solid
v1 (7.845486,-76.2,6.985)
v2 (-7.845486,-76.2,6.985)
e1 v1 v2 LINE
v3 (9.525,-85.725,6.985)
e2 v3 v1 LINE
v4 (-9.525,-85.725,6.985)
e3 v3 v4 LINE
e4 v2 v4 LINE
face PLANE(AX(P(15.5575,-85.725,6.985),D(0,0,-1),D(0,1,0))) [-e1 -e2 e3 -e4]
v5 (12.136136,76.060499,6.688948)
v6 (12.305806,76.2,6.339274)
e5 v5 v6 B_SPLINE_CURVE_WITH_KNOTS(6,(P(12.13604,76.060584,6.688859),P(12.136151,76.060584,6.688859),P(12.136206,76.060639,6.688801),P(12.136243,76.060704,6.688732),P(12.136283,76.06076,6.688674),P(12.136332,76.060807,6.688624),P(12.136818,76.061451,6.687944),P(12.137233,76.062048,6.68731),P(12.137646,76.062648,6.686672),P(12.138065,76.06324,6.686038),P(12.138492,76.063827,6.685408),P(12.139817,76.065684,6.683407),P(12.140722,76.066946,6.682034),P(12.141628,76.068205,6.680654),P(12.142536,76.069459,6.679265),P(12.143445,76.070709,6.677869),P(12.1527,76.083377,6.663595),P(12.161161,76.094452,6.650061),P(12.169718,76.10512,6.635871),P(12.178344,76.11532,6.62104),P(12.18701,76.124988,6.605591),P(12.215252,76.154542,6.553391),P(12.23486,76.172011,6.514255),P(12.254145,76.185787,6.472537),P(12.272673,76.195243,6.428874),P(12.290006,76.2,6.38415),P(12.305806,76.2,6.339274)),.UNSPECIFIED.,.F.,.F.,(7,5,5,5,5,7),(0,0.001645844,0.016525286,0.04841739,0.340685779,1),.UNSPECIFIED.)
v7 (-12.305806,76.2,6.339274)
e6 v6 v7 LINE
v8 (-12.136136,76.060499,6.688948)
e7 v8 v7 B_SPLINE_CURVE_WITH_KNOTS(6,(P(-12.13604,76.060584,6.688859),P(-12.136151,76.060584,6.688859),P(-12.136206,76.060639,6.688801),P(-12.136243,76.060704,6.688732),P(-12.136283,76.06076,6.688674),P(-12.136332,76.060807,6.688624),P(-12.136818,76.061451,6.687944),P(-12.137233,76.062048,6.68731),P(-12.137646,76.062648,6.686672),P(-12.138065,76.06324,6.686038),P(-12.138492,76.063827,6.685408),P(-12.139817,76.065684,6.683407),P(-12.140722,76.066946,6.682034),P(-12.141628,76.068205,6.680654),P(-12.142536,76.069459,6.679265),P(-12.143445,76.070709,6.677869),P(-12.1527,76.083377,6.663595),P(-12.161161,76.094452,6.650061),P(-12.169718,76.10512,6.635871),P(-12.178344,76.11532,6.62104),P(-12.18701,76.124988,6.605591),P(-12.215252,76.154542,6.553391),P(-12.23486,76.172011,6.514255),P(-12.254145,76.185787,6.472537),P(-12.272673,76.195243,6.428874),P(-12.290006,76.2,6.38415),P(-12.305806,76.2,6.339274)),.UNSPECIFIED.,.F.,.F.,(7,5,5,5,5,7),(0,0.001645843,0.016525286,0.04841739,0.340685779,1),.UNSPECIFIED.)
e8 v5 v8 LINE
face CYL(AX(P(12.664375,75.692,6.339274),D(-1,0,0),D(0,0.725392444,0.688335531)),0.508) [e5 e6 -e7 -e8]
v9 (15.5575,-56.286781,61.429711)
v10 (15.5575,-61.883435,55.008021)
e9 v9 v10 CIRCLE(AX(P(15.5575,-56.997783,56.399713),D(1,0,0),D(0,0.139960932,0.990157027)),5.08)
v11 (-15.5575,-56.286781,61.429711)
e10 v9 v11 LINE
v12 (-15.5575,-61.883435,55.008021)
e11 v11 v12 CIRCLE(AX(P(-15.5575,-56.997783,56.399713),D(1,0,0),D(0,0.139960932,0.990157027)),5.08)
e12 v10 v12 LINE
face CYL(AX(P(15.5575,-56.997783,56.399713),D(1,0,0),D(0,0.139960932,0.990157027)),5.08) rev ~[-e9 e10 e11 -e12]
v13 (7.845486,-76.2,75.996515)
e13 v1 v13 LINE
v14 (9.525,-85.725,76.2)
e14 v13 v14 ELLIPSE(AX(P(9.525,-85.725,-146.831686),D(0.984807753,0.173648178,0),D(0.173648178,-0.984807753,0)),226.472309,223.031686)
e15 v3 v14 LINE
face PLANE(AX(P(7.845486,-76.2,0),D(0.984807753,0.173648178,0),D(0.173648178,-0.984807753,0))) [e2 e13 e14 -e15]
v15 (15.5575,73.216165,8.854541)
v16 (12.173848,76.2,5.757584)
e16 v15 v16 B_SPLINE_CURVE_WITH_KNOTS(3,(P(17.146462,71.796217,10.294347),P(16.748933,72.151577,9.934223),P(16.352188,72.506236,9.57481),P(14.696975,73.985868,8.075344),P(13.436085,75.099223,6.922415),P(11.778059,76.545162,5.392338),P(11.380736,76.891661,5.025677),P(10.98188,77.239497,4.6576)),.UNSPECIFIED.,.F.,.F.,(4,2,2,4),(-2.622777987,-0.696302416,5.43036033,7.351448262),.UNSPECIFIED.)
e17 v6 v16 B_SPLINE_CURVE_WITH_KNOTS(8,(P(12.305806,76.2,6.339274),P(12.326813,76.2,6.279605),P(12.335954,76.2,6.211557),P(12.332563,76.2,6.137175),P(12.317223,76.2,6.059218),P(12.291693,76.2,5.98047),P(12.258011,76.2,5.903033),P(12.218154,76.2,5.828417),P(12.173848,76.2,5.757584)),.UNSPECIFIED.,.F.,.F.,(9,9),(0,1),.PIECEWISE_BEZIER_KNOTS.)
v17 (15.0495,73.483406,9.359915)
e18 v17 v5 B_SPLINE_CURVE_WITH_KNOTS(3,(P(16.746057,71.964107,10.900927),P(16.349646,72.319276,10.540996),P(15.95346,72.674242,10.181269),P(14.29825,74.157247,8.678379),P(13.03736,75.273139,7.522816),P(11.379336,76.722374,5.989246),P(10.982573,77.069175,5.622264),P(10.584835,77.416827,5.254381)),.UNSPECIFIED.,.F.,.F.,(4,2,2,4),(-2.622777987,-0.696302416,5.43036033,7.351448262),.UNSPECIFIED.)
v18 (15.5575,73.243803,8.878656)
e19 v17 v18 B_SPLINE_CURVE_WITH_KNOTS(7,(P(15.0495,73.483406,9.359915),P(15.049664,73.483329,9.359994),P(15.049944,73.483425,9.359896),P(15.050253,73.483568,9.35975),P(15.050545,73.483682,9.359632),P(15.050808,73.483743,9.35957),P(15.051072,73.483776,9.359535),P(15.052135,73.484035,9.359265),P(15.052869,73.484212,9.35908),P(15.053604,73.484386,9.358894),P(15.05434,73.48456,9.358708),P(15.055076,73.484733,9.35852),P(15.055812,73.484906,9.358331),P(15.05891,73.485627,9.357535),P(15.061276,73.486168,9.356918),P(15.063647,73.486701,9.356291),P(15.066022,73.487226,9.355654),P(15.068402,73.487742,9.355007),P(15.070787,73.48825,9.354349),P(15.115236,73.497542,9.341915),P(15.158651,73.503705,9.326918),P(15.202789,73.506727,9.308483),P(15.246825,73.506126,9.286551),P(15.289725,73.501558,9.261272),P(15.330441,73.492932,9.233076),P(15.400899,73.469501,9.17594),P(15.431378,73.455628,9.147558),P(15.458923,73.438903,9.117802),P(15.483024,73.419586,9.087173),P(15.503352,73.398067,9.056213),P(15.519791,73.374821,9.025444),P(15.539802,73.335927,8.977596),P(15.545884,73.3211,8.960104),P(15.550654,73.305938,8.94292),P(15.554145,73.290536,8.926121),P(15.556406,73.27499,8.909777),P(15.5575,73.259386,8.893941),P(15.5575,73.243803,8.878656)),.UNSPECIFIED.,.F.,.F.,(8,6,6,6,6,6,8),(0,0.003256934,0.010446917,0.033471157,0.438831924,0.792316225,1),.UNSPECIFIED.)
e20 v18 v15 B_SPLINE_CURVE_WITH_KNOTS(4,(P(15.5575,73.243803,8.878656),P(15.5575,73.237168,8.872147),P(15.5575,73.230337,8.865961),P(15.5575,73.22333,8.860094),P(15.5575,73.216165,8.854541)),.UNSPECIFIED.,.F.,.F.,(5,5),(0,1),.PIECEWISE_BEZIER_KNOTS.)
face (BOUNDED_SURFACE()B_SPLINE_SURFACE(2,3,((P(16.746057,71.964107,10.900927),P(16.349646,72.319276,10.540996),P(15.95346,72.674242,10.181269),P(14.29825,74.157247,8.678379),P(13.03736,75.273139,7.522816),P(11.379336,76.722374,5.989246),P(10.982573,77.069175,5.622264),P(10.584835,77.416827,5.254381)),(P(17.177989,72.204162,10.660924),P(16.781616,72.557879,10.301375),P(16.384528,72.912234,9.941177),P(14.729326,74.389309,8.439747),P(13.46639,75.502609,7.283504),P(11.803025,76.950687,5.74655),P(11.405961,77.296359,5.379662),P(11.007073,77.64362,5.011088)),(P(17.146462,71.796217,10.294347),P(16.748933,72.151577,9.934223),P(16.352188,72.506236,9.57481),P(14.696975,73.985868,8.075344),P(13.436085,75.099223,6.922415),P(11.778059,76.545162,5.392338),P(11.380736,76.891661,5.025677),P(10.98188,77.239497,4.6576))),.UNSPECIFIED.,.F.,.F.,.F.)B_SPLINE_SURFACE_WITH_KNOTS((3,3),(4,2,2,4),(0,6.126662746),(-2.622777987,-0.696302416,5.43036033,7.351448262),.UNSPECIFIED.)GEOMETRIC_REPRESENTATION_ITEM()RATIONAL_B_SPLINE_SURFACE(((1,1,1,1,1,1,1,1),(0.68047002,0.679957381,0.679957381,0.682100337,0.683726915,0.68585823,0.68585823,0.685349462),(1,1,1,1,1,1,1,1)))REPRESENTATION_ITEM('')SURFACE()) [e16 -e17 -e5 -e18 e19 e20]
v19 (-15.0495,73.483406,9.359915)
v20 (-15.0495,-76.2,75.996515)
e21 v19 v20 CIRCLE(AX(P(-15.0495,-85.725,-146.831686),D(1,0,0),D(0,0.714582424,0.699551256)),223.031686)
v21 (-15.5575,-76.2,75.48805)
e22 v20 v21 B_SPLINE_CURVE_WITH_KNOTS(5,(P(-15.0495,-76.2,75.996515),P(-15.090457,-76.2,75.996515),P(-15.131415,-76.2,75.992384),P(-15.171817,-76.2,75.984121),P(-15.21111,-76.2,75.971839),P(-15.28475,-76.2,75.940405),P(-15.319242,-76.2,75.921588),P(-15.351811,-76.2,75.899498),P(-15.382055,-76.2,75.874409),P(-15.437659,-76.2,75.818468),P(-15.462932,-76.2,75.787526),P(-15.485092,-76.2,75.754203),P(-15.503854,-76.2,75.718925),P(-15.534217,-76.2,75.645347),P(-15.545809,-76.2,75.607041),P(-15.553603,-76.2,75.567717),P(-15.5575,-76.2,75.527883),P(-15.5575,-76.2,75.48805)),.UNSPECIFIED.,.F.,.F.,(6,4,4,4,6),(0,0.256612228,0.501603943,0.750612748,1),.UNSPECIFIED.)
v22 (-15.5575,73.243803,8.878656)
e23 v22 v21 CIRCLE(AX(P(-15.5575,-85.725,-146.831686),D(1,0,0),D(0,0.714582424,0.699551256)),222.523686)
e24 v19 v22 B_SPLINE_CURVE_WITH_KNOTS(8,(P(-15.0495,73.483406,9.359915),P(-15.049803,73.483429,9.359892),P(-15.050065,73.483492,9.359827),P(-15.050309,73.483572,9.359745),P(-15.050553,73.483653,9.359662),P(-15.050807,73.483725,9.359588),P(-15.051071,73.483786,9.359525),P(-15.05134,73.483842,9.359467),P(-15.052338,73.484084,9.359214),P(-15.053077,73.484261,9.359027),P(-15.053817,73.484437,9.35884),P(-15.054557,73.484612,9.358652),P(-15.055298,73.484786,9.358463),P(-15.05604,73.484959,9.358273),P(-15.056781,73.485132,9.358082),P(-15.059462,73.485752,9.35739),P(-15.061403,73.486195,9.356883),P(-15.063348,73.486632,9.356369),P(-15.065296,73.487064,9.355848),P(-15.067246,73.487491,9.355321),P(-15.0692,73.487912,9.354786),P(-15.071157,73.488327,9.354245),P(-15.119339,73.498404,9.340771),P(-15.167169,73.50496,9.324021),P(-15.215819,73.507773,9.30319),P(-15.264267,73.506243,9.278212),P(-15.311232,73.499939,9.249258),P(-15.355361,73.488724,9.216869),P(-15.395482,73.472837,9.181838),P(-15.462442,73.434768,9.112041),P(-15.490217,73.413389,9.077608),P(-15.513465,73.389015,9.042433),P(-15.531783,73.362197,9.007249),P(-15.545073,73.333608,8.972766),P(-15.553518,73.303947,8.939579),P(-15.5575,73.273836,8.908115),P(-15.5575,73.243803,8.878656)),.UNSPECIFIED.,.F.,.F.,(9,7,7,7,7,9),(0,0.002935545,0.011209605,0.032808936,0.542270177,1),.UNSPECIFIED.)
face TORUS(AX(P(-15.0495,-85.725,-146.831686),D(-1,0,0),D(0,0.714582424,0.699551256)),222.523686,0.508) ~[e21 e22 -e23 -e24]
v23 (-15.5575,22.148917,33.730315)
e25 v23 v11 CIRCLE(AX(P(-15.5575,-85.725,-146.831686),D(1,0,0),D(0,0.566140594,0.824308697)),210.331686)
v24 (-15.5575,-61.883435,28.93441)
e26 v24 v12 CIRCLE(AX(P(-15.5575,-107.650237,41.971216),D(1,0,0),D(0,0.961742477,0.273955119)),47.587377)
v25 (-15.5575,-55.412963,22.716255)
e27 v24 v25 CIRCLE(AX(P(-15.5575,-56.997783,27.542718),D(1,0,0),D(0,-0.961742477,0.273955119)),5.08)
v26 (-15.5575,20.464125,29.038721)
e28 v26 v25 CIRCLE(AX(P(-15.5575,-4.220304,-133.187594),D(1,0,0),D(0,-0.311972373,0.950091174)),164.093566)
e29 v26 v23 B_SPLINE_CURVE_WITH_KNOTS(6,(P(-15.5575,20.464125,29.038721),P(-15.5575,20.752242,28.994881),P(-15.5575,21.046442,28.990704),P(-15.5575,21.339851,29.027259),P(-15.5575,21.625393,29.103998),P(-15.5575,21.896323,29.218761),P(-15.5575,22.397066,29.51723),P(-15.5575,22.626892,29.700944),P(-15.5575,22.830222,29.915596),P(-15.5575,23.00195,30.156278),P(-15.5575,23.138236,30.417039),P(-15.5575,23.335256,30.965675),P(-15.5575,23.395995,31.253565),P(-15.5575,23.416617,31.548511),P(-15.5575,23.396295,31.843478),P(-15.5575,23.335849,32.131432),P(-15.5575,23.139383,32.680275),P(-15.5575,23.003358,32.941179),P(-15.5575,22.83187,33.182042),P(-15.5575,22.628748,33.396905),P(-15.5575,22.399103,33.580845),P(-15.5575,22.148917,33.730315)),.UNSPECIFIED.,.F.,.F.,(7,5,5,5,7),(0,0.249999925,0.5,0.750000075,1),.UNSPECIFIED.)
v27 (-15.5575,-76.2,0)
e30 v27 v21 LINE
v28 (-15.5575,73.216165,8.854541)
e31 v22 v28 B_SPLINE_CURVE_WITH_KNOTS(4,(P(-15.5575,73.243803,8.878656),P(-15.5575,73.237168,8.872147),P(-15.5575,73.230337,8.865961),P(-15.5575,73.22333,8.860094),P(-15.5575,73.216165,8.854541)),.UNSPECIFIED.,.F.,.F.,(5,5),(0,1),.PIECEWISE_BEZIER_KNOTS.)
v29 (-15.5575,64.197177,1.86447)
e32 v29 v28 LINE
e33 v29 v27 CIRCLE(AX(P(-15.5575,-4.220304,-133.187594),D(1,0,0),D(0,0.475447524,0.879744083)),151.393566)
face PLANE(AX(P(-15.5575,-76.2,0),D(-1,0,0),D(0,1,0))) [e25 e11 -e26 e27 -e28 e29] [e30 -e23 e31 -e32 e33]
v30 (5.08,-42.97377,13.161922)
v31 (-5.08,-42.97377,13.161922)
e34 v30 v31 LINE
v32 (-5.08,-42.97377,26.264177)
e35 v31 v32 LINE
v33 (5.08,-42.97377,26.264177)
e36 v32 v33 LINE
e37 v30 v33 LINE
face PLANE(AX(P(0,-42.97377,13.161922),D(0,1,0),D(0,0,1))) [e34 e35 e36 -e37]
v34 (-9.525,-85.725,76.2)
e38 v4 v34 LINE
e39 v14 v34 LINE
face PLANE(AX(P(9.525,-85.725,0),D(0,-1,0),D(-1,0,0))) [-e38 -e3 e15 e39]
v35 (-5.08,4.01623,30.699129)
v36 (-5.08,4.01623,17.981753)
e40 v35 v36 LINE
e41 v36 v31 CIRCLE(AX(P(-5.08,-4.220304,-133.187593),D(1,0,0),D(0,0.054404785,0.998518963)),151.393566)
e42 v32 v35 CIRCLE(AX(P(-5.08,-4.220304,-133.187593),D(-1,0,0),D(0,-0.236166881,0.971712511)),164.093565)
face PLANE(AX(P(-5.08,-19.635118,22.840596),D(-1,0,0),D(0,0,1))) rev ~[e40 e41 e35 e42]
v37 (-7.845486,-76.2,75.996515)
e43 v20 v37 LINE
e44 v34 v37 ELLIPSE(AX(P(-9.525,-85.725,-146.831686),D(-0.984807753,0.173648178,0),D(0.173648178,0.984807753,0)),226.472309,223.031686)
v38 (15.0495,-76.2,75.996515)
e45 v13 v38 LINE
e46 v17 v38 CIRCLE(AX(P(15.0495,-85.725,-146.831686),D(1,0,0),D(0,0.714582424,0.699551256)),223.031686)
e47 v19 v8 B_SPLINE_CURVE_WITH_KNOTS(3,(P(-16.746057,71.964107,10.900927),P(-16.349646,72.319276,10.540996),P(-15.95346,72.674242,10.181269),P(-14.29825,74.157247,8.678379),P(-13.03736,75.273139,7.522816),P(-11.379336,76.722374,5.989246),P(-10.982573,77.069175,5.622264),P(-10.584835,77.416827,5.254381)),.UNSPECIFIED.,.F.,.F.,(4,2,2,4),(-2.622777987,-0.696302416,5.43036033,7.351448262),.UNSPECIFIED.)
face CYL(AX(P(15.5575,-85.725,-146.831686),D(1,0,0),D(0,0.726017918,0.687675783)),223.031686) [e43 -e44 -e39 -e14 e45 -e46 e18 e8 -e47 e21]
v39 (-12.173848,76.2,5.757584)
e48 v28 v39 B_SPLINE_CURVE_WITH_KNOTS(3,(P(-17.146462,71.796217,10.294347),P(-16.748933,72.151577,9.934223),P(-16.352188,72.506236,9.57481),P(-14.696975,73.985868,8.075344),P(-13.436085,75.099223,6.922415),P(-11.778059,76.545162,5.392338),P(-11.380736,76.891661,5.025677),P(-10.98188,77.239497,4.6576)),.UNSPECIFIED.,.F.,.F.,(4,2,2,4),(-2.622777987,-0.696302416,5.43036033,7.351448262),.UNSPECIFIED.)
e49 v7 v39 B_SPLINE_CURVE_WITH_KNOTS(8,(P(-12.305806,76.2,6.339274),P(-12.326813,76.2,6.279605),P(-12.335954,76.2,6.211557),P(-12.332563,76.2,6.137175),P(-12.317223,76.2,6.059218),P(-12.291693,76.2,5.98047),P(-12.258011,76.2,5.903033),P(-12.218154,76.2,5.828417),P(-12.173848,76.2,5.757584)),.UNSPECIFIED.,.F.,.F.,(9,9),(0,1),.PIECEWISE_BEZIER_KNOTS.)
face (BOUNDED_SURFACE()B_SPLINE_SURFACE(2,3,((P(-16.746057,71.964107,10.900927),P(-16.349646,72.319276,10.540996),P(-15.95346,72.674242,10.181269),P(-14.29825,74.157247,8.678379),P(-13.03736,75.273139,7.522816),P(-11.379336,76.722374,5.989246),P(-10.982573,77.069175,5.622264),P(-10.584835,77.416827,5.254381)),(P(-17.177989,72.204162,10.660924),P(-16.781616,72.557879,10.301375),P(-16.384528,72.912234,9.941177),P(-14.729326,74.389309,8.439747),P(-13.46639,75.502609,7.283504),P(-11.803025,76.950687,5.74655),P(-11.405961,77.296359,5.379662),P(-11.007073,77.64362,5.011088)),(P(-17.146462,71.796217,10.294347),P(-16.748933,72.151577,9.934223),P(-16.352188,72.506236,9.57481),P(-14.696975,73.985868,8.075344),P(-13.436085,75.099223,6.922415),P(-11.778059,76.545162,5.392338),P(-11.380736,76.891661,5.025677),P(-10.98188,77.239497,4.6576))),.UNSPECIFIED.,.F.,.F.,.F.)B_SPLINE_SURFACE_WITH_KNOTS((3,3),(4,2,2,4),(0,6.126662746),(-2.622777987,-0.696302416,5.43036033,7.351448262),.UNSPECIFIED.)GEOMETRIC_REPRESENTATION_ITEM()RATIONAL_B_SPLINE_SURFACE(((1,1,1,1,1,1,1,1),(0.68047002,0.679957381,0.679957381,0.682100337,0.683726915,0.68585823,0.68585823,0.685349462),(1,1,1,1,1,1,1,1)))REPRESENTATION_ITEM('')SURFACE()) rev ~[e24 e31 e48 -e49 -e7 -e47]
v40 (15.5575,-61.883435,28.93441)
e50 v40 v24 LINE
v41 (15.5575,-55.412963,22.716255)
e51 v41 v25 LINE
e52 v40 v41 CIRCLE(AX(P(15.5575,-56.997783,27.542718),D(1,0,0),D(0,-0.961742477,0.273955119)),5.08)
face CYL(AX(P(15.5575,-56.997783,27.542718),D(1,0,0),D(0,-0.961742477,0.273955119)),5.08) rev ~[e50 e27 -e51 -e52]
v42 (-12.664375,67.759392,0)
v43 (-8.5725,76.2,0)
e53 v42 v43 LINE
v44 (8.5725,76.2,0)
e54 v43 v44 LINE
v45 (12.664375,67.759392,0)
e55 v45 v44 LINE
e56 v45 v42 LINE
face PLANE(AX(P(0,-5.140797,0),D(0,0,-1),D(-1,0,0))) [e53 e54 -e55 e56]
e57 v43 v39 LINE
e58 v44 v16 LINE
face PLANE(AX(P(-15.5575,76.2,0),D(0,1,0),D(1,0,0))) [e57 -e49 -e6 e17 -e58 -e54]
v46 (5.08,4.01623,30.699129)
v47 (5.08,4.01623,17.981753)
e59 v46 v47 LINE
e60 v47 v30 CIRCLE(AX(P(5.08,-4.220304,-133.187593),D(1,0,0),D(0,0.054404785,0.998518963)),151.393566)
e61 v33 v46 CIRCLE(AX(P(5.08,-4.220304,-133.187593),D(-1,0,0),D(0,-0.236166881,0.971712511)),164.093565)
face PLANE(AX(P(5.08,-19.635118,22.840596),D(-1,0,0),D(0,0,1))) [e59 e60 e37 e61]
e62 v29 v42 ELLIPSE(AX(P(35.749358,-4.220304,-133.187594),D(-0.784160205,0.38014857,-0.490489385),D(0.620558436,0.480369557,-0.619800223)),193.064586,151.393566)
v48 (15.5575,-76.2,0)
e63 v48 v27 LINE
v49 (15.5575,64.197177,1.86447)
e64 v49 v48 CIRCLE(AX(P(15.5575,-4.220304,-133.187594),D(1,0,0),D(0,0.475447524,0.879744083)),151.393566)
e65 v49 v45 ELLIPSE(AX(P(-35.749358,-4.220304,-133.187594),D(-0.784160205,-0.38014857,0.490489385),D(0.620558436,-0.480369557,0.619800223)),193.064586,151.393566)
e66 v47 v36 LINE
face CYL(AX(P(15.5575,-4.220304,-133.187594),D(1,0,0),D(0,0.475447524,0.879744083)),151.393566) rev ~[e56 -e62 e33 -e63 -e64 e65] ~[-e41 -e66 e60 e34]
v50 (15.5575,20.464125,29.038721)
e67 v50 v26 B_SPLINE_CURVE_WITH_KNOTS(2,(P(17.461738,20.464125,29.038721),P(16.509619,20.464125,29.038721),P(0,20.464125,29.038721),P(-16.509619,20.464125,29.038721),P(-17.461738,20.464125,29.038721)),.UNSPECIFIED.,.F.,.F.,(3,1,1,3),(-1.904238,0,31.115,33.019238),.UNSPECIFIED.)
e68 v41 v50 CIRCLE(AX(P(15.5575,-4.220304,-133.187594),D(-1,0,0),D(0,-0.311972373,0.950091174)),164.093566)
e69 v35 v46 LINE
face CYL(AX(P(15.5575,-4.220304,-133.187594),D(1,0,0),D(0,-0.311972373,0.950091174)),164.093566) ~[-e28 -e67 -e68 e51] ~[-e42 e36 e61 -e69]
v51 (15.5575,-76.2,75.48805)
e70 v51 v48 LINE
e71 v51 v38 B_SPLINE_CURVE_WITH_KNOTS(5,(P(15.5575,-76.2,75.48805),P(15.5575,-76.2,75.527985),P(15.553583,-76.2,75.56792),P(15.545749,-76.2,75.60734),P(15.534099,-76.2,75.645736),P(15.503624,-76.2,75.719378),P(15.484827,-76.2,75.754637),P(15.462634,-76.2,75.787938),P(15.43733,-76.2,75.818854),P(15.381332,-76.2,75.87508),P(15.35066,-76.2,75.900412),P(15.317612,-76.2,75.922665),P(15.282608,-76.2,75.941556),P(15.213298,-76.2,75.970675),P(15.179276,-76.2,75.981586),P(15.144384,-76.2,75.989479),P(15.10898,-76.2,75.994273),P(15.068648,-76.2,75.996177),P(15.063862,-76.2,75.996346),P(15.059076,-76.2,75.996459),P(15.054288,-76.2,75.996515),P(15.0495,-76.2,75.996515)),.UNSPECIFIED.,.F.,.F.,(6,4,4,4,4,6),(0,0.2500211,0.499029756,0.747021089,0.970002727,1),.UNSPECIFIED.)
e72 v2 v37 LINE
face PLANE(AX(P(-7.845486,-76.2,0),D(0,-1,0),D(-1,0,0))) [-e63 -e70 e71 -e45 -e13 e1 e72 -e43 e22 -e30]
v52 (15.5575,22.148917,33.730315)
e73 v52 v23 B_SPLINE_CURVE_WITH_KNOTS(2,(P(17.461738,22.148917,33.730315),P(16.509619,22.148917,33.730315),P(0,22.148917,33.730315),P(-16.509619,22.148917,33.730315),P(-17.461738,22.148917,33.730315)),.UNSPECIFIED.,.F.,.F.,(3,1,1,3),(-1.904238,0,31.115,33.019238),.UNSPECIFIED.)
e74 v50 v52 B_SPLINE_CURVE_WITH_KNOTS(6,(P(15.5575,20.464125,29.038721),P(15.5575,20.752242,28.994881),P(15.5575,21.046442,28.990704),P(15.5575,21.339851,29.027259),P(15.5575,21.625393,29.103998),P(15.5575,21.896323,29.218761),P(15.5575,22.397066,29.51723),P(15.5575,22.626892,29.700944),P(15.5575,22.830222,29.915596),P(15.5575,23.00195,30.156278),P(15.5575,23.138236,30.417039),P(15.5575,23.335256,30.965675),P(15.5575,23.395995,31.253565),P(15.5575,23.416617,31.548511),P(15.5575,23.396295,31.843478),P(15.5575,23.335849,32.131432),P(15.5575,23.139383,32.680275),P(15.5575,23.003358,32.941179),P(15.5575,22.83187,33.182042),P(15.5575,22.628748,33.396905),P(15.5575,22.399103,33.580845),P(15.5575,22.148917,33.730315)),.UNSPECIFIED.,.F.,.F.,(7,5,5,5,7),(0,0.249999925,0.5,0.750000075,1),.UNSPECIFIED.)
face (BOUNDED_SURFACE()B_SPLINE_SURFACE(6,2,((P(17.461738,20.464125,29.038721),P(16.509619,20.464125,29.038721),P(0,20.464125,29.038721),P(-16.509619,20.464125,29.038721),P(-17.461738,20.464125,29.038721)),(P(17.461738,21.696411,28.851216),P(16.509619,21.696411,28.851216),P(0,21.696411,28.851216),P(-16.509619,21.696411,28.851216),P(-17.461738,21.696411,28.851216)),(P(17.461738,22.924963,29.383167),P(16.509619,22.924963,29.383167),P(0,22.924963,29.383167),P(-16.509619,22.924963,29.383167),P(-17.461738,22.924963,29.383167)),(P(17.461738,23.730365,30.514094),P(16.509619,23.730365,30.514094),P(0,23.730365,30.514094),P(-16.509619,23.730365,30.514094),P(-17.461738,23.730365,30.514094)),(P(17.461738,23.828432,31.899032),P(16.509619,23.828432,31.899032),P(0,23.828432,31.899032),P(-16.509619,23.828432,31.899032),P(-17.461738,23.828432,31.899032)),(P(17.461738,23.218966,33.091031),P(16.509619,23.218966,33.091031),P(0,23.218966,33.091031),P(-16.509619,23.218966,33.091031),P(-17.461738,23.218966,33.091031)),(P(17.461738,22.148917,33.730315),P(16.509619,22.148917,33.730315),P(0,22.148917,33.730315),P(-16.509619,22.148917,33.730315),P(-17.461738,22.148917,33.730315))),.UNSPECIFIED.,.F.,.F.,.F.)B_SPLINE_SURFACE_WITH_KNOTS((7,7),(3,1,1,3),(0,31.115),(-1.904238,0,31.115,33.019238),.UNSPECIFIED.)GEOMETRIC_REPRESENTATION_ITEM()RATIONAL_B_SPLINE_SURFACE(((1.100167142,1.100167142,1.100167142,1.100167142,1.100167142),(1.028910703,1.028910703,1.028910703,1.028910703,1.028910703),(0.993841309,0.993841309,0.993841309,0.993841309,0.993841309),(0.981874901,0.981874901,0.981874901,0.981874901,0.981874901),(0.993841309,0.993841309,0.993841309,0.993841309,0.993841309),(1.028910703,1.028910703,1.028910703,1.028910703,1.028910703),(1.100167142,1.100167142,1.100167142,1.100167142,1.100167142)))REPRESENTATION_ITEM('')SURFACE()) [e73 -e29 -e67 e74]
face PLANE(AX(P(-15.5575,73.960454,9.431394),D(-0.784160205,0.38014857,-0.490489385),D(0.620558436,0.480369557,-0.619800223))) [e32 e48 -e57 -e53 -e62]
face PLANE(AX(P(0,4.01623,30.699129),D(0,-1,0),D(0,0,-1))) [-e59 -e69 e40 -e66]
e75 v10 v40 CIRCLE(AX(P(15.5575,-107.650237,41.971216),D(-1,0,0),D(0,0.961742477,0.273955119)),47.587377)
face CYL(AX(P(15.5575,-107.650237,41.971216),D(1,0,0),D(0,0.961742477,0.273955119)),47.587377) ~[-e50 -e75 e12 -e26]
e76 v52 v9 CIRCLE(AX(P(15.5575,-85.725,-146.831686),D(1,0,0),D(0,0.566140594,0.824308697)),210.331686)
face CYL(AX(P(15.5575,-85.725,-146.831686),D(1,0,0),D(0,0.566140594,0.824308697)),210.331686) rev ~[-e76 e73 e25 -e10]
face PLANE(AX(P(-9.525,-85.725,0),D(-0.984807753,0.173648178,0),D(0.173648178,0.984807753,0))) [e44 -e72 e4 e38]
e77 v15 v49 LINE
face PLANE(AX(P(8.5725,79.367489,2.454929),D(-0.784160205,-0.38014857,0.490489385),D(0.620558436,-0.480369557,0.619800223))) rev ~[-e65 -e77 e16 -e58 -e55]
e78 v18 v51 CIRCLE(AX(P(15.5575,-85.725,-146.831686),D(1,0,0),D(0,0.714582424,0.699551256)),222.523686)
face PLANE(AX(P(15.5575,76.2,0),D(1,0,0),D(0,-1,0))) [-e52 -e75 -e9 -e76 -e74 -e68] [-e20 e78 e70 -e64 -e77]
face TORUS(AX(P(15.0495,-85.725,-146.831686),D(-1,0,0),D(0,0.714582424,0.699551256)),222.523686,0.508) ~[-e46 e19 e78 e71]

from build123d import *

# Parameters (mm, degrees)
BOSS_EXTRUDE1_DEPTH = 76.2
SKETCH2_W           = 6.985
SKETCH2_H           = 9.525
CUT_EXTRUDE1_DEPTH  = 119.84173867
CUT_EXTRUDE2_DEPTH  = 119.84173867
CUT_EXTRUDE3_DEPTH  = 119.84173867
FILLET1_R           = 2.54
CUT_EXTRUDE4_DEPTH  = 5.08
CUT_EXTRUDE6_DEPTH  = 15.113
FILLET2_R           = 0.508


with BuildPart() as part:
    # Sketch1 → Boss-Extrude1 (new body)
    with BuildSketch(Plane.XY):
        Polygon((-15.5575, 76.2), (15.5575, 76.2), (15.5575, -76.2), (7.845485509, -76.2), (9.525, -85.725), (-9.525, -85.725), (-7.845485509, -76.2), (-15.5575, -76.2), align=None)
    extrude(amount=BOSS_EXTRUDE1_DEPTH)

    # Sketch2 → Cut-Extrude1 (cut, through all)
    with BuildSketch(Plane(origin=(15.5575, 0, 0), x_dir=(0, 0, -1), z_dir=(1, 0, 0))):
        with Locations((-3.4925, -80.9625)):
            Rectangle(SKETCH2_W, SKETCH2_H)
    extrude(amount=-CUT_EXTRUDE1_DEPTH, mode=Mode.SUBTRACT)

    # Sketch3 → Cut-Extrude2 (cut, through all)
    with BuildSketch(Plane(origin=(15.5575, 0, 0), x_dir=(0, 0, -1), z_dir=(1, 0, 0))):
        with BuildLine():
            Line((-76.2, -85.725), (-76.2, -76.2))
            Line((-76.2, -76.2), (-76.2, 76.2))
            Line((-76.2, 76.2), (-6.541803462, 76.2))
            ThreePointArc((-6.541803462, 76.2), (-58.046669251, 2.411215556), (-76.2, -85.725))
        make_face()
        with BuildLine():
            Line((0, -76.2), (0, 67.75939176))
            ThreePointArc((0, 67.75939176), (-18.20597202, -4.22030412), (0, -76.2))
        make_face()
    extrude(amount=-CUT_EXTRUDE2_DEPTH, mode=Mode.SUBTRACT)

    # Sketch6 → Cut-Extrude3 (cut, through all)
    with BuildSketch(Plane(origin=(15.5575, 0, 0), x_dir=(0, 0, -1), z_dir=(1, 0, 0))):
        with BuildLine():
            ThreePointArc((-28.934409948, -61.883434575), (-23.879909813, -60.517759582), (-22.716254779, -55.412963136))
            ThreePointArc((-22.716254779, -55.412963136), (-30.753414225, -11.294498854), (-26.546552055, 33.352305435))
            ThreePointArc((-26.546552055, 33.352305435), (-49.181053892, -9.446405872), (-61.429710833, -56.286781256))
            ThreePointArc((-61.429710833, -56.286781256), (-59.737369376, -60.827463042), (-55.008021131, -61.883434575))
            ThreePointArc((-55.008021131, -61.883434575), (-41.971215539, -60.062859411), (-28.934409948, -61.883434575))
        make_face()
    extrude(amount=-CUT_EXTRUDE3_DEPTH, mode=Mode.SUBTRACT)

    # Fillet1
    fillet1_edges = [part.edges().sort_by_distance(p)[0] for p in [
        (0, 33.352305435, 26.546552055),
    ]]
    fillet(fillet1_edges, radius=FILLET1_R)

    # Sketch7 → Cut-Extrude4 (cut, symmetric)
    with BuildSketch(Plane(origin=(0, 0, 0), x_dir=(0, 0, -1), z_dir=(1, 0, 0))):
        with BuildLine():
            Line((-30.699128799, 4.016230293), (-17.981752538, 4.016230293))
            ThreePointArc((-17.981752538, 4.016230293), (-17.415803594, -19.667907964), (-13.161921654, -42.973769707))
            Line((-13.161921654, -42.973769707), (-26.264177108, -42.973769707))
            ThreePointArc((-26.264177108, -42.973769707), (-30.179968378, -19.639057999), (-30.699128799, 4.016230293))
        make_face()
    extrude(amount=CUT_EXTRUDE4_DEPTH, both=True, mode=Mode.SUBTRACT)

    # Sketch10 → Cut-Extrude6 (cut, symmetric)
    with BuildSketch(Plane(origin=(15.5575, 76.2, 6.541803462), x_dir=(-1, 0, 0), z_dir=(0, -0.7903999954772005, -0.6125910929401777))):
        Polygon((0, 5.170641427), (6.985, 5.170641427), (0, -3.655858573), align=None)
        Polygon((31.115, 5.170641427), (31.115, -3.655858573), (24.13, 5.170641427), align=None)
    extrude(amount=CUT_EXTRUDE6_DEPTH, both=True, mode=Mode.SUBTRACT)

    # Fillet2
    fillet2_edges = [part.edges().sort_by_distance(p)[0] for p in [
        (0, 76.2, 6.541803462),
        (-14.111333502, 74.930435776, 7.871138317),
        (14.111333502, 74.930435776, 7.871138317),
        (-15.5575, 5.090891194, 56.873019023),
        (15.5575, 5.090891194, 56.873019023),
    ]]
    fillet(fillet2_edges, radius=FILLET2_R)


solid = part.part
